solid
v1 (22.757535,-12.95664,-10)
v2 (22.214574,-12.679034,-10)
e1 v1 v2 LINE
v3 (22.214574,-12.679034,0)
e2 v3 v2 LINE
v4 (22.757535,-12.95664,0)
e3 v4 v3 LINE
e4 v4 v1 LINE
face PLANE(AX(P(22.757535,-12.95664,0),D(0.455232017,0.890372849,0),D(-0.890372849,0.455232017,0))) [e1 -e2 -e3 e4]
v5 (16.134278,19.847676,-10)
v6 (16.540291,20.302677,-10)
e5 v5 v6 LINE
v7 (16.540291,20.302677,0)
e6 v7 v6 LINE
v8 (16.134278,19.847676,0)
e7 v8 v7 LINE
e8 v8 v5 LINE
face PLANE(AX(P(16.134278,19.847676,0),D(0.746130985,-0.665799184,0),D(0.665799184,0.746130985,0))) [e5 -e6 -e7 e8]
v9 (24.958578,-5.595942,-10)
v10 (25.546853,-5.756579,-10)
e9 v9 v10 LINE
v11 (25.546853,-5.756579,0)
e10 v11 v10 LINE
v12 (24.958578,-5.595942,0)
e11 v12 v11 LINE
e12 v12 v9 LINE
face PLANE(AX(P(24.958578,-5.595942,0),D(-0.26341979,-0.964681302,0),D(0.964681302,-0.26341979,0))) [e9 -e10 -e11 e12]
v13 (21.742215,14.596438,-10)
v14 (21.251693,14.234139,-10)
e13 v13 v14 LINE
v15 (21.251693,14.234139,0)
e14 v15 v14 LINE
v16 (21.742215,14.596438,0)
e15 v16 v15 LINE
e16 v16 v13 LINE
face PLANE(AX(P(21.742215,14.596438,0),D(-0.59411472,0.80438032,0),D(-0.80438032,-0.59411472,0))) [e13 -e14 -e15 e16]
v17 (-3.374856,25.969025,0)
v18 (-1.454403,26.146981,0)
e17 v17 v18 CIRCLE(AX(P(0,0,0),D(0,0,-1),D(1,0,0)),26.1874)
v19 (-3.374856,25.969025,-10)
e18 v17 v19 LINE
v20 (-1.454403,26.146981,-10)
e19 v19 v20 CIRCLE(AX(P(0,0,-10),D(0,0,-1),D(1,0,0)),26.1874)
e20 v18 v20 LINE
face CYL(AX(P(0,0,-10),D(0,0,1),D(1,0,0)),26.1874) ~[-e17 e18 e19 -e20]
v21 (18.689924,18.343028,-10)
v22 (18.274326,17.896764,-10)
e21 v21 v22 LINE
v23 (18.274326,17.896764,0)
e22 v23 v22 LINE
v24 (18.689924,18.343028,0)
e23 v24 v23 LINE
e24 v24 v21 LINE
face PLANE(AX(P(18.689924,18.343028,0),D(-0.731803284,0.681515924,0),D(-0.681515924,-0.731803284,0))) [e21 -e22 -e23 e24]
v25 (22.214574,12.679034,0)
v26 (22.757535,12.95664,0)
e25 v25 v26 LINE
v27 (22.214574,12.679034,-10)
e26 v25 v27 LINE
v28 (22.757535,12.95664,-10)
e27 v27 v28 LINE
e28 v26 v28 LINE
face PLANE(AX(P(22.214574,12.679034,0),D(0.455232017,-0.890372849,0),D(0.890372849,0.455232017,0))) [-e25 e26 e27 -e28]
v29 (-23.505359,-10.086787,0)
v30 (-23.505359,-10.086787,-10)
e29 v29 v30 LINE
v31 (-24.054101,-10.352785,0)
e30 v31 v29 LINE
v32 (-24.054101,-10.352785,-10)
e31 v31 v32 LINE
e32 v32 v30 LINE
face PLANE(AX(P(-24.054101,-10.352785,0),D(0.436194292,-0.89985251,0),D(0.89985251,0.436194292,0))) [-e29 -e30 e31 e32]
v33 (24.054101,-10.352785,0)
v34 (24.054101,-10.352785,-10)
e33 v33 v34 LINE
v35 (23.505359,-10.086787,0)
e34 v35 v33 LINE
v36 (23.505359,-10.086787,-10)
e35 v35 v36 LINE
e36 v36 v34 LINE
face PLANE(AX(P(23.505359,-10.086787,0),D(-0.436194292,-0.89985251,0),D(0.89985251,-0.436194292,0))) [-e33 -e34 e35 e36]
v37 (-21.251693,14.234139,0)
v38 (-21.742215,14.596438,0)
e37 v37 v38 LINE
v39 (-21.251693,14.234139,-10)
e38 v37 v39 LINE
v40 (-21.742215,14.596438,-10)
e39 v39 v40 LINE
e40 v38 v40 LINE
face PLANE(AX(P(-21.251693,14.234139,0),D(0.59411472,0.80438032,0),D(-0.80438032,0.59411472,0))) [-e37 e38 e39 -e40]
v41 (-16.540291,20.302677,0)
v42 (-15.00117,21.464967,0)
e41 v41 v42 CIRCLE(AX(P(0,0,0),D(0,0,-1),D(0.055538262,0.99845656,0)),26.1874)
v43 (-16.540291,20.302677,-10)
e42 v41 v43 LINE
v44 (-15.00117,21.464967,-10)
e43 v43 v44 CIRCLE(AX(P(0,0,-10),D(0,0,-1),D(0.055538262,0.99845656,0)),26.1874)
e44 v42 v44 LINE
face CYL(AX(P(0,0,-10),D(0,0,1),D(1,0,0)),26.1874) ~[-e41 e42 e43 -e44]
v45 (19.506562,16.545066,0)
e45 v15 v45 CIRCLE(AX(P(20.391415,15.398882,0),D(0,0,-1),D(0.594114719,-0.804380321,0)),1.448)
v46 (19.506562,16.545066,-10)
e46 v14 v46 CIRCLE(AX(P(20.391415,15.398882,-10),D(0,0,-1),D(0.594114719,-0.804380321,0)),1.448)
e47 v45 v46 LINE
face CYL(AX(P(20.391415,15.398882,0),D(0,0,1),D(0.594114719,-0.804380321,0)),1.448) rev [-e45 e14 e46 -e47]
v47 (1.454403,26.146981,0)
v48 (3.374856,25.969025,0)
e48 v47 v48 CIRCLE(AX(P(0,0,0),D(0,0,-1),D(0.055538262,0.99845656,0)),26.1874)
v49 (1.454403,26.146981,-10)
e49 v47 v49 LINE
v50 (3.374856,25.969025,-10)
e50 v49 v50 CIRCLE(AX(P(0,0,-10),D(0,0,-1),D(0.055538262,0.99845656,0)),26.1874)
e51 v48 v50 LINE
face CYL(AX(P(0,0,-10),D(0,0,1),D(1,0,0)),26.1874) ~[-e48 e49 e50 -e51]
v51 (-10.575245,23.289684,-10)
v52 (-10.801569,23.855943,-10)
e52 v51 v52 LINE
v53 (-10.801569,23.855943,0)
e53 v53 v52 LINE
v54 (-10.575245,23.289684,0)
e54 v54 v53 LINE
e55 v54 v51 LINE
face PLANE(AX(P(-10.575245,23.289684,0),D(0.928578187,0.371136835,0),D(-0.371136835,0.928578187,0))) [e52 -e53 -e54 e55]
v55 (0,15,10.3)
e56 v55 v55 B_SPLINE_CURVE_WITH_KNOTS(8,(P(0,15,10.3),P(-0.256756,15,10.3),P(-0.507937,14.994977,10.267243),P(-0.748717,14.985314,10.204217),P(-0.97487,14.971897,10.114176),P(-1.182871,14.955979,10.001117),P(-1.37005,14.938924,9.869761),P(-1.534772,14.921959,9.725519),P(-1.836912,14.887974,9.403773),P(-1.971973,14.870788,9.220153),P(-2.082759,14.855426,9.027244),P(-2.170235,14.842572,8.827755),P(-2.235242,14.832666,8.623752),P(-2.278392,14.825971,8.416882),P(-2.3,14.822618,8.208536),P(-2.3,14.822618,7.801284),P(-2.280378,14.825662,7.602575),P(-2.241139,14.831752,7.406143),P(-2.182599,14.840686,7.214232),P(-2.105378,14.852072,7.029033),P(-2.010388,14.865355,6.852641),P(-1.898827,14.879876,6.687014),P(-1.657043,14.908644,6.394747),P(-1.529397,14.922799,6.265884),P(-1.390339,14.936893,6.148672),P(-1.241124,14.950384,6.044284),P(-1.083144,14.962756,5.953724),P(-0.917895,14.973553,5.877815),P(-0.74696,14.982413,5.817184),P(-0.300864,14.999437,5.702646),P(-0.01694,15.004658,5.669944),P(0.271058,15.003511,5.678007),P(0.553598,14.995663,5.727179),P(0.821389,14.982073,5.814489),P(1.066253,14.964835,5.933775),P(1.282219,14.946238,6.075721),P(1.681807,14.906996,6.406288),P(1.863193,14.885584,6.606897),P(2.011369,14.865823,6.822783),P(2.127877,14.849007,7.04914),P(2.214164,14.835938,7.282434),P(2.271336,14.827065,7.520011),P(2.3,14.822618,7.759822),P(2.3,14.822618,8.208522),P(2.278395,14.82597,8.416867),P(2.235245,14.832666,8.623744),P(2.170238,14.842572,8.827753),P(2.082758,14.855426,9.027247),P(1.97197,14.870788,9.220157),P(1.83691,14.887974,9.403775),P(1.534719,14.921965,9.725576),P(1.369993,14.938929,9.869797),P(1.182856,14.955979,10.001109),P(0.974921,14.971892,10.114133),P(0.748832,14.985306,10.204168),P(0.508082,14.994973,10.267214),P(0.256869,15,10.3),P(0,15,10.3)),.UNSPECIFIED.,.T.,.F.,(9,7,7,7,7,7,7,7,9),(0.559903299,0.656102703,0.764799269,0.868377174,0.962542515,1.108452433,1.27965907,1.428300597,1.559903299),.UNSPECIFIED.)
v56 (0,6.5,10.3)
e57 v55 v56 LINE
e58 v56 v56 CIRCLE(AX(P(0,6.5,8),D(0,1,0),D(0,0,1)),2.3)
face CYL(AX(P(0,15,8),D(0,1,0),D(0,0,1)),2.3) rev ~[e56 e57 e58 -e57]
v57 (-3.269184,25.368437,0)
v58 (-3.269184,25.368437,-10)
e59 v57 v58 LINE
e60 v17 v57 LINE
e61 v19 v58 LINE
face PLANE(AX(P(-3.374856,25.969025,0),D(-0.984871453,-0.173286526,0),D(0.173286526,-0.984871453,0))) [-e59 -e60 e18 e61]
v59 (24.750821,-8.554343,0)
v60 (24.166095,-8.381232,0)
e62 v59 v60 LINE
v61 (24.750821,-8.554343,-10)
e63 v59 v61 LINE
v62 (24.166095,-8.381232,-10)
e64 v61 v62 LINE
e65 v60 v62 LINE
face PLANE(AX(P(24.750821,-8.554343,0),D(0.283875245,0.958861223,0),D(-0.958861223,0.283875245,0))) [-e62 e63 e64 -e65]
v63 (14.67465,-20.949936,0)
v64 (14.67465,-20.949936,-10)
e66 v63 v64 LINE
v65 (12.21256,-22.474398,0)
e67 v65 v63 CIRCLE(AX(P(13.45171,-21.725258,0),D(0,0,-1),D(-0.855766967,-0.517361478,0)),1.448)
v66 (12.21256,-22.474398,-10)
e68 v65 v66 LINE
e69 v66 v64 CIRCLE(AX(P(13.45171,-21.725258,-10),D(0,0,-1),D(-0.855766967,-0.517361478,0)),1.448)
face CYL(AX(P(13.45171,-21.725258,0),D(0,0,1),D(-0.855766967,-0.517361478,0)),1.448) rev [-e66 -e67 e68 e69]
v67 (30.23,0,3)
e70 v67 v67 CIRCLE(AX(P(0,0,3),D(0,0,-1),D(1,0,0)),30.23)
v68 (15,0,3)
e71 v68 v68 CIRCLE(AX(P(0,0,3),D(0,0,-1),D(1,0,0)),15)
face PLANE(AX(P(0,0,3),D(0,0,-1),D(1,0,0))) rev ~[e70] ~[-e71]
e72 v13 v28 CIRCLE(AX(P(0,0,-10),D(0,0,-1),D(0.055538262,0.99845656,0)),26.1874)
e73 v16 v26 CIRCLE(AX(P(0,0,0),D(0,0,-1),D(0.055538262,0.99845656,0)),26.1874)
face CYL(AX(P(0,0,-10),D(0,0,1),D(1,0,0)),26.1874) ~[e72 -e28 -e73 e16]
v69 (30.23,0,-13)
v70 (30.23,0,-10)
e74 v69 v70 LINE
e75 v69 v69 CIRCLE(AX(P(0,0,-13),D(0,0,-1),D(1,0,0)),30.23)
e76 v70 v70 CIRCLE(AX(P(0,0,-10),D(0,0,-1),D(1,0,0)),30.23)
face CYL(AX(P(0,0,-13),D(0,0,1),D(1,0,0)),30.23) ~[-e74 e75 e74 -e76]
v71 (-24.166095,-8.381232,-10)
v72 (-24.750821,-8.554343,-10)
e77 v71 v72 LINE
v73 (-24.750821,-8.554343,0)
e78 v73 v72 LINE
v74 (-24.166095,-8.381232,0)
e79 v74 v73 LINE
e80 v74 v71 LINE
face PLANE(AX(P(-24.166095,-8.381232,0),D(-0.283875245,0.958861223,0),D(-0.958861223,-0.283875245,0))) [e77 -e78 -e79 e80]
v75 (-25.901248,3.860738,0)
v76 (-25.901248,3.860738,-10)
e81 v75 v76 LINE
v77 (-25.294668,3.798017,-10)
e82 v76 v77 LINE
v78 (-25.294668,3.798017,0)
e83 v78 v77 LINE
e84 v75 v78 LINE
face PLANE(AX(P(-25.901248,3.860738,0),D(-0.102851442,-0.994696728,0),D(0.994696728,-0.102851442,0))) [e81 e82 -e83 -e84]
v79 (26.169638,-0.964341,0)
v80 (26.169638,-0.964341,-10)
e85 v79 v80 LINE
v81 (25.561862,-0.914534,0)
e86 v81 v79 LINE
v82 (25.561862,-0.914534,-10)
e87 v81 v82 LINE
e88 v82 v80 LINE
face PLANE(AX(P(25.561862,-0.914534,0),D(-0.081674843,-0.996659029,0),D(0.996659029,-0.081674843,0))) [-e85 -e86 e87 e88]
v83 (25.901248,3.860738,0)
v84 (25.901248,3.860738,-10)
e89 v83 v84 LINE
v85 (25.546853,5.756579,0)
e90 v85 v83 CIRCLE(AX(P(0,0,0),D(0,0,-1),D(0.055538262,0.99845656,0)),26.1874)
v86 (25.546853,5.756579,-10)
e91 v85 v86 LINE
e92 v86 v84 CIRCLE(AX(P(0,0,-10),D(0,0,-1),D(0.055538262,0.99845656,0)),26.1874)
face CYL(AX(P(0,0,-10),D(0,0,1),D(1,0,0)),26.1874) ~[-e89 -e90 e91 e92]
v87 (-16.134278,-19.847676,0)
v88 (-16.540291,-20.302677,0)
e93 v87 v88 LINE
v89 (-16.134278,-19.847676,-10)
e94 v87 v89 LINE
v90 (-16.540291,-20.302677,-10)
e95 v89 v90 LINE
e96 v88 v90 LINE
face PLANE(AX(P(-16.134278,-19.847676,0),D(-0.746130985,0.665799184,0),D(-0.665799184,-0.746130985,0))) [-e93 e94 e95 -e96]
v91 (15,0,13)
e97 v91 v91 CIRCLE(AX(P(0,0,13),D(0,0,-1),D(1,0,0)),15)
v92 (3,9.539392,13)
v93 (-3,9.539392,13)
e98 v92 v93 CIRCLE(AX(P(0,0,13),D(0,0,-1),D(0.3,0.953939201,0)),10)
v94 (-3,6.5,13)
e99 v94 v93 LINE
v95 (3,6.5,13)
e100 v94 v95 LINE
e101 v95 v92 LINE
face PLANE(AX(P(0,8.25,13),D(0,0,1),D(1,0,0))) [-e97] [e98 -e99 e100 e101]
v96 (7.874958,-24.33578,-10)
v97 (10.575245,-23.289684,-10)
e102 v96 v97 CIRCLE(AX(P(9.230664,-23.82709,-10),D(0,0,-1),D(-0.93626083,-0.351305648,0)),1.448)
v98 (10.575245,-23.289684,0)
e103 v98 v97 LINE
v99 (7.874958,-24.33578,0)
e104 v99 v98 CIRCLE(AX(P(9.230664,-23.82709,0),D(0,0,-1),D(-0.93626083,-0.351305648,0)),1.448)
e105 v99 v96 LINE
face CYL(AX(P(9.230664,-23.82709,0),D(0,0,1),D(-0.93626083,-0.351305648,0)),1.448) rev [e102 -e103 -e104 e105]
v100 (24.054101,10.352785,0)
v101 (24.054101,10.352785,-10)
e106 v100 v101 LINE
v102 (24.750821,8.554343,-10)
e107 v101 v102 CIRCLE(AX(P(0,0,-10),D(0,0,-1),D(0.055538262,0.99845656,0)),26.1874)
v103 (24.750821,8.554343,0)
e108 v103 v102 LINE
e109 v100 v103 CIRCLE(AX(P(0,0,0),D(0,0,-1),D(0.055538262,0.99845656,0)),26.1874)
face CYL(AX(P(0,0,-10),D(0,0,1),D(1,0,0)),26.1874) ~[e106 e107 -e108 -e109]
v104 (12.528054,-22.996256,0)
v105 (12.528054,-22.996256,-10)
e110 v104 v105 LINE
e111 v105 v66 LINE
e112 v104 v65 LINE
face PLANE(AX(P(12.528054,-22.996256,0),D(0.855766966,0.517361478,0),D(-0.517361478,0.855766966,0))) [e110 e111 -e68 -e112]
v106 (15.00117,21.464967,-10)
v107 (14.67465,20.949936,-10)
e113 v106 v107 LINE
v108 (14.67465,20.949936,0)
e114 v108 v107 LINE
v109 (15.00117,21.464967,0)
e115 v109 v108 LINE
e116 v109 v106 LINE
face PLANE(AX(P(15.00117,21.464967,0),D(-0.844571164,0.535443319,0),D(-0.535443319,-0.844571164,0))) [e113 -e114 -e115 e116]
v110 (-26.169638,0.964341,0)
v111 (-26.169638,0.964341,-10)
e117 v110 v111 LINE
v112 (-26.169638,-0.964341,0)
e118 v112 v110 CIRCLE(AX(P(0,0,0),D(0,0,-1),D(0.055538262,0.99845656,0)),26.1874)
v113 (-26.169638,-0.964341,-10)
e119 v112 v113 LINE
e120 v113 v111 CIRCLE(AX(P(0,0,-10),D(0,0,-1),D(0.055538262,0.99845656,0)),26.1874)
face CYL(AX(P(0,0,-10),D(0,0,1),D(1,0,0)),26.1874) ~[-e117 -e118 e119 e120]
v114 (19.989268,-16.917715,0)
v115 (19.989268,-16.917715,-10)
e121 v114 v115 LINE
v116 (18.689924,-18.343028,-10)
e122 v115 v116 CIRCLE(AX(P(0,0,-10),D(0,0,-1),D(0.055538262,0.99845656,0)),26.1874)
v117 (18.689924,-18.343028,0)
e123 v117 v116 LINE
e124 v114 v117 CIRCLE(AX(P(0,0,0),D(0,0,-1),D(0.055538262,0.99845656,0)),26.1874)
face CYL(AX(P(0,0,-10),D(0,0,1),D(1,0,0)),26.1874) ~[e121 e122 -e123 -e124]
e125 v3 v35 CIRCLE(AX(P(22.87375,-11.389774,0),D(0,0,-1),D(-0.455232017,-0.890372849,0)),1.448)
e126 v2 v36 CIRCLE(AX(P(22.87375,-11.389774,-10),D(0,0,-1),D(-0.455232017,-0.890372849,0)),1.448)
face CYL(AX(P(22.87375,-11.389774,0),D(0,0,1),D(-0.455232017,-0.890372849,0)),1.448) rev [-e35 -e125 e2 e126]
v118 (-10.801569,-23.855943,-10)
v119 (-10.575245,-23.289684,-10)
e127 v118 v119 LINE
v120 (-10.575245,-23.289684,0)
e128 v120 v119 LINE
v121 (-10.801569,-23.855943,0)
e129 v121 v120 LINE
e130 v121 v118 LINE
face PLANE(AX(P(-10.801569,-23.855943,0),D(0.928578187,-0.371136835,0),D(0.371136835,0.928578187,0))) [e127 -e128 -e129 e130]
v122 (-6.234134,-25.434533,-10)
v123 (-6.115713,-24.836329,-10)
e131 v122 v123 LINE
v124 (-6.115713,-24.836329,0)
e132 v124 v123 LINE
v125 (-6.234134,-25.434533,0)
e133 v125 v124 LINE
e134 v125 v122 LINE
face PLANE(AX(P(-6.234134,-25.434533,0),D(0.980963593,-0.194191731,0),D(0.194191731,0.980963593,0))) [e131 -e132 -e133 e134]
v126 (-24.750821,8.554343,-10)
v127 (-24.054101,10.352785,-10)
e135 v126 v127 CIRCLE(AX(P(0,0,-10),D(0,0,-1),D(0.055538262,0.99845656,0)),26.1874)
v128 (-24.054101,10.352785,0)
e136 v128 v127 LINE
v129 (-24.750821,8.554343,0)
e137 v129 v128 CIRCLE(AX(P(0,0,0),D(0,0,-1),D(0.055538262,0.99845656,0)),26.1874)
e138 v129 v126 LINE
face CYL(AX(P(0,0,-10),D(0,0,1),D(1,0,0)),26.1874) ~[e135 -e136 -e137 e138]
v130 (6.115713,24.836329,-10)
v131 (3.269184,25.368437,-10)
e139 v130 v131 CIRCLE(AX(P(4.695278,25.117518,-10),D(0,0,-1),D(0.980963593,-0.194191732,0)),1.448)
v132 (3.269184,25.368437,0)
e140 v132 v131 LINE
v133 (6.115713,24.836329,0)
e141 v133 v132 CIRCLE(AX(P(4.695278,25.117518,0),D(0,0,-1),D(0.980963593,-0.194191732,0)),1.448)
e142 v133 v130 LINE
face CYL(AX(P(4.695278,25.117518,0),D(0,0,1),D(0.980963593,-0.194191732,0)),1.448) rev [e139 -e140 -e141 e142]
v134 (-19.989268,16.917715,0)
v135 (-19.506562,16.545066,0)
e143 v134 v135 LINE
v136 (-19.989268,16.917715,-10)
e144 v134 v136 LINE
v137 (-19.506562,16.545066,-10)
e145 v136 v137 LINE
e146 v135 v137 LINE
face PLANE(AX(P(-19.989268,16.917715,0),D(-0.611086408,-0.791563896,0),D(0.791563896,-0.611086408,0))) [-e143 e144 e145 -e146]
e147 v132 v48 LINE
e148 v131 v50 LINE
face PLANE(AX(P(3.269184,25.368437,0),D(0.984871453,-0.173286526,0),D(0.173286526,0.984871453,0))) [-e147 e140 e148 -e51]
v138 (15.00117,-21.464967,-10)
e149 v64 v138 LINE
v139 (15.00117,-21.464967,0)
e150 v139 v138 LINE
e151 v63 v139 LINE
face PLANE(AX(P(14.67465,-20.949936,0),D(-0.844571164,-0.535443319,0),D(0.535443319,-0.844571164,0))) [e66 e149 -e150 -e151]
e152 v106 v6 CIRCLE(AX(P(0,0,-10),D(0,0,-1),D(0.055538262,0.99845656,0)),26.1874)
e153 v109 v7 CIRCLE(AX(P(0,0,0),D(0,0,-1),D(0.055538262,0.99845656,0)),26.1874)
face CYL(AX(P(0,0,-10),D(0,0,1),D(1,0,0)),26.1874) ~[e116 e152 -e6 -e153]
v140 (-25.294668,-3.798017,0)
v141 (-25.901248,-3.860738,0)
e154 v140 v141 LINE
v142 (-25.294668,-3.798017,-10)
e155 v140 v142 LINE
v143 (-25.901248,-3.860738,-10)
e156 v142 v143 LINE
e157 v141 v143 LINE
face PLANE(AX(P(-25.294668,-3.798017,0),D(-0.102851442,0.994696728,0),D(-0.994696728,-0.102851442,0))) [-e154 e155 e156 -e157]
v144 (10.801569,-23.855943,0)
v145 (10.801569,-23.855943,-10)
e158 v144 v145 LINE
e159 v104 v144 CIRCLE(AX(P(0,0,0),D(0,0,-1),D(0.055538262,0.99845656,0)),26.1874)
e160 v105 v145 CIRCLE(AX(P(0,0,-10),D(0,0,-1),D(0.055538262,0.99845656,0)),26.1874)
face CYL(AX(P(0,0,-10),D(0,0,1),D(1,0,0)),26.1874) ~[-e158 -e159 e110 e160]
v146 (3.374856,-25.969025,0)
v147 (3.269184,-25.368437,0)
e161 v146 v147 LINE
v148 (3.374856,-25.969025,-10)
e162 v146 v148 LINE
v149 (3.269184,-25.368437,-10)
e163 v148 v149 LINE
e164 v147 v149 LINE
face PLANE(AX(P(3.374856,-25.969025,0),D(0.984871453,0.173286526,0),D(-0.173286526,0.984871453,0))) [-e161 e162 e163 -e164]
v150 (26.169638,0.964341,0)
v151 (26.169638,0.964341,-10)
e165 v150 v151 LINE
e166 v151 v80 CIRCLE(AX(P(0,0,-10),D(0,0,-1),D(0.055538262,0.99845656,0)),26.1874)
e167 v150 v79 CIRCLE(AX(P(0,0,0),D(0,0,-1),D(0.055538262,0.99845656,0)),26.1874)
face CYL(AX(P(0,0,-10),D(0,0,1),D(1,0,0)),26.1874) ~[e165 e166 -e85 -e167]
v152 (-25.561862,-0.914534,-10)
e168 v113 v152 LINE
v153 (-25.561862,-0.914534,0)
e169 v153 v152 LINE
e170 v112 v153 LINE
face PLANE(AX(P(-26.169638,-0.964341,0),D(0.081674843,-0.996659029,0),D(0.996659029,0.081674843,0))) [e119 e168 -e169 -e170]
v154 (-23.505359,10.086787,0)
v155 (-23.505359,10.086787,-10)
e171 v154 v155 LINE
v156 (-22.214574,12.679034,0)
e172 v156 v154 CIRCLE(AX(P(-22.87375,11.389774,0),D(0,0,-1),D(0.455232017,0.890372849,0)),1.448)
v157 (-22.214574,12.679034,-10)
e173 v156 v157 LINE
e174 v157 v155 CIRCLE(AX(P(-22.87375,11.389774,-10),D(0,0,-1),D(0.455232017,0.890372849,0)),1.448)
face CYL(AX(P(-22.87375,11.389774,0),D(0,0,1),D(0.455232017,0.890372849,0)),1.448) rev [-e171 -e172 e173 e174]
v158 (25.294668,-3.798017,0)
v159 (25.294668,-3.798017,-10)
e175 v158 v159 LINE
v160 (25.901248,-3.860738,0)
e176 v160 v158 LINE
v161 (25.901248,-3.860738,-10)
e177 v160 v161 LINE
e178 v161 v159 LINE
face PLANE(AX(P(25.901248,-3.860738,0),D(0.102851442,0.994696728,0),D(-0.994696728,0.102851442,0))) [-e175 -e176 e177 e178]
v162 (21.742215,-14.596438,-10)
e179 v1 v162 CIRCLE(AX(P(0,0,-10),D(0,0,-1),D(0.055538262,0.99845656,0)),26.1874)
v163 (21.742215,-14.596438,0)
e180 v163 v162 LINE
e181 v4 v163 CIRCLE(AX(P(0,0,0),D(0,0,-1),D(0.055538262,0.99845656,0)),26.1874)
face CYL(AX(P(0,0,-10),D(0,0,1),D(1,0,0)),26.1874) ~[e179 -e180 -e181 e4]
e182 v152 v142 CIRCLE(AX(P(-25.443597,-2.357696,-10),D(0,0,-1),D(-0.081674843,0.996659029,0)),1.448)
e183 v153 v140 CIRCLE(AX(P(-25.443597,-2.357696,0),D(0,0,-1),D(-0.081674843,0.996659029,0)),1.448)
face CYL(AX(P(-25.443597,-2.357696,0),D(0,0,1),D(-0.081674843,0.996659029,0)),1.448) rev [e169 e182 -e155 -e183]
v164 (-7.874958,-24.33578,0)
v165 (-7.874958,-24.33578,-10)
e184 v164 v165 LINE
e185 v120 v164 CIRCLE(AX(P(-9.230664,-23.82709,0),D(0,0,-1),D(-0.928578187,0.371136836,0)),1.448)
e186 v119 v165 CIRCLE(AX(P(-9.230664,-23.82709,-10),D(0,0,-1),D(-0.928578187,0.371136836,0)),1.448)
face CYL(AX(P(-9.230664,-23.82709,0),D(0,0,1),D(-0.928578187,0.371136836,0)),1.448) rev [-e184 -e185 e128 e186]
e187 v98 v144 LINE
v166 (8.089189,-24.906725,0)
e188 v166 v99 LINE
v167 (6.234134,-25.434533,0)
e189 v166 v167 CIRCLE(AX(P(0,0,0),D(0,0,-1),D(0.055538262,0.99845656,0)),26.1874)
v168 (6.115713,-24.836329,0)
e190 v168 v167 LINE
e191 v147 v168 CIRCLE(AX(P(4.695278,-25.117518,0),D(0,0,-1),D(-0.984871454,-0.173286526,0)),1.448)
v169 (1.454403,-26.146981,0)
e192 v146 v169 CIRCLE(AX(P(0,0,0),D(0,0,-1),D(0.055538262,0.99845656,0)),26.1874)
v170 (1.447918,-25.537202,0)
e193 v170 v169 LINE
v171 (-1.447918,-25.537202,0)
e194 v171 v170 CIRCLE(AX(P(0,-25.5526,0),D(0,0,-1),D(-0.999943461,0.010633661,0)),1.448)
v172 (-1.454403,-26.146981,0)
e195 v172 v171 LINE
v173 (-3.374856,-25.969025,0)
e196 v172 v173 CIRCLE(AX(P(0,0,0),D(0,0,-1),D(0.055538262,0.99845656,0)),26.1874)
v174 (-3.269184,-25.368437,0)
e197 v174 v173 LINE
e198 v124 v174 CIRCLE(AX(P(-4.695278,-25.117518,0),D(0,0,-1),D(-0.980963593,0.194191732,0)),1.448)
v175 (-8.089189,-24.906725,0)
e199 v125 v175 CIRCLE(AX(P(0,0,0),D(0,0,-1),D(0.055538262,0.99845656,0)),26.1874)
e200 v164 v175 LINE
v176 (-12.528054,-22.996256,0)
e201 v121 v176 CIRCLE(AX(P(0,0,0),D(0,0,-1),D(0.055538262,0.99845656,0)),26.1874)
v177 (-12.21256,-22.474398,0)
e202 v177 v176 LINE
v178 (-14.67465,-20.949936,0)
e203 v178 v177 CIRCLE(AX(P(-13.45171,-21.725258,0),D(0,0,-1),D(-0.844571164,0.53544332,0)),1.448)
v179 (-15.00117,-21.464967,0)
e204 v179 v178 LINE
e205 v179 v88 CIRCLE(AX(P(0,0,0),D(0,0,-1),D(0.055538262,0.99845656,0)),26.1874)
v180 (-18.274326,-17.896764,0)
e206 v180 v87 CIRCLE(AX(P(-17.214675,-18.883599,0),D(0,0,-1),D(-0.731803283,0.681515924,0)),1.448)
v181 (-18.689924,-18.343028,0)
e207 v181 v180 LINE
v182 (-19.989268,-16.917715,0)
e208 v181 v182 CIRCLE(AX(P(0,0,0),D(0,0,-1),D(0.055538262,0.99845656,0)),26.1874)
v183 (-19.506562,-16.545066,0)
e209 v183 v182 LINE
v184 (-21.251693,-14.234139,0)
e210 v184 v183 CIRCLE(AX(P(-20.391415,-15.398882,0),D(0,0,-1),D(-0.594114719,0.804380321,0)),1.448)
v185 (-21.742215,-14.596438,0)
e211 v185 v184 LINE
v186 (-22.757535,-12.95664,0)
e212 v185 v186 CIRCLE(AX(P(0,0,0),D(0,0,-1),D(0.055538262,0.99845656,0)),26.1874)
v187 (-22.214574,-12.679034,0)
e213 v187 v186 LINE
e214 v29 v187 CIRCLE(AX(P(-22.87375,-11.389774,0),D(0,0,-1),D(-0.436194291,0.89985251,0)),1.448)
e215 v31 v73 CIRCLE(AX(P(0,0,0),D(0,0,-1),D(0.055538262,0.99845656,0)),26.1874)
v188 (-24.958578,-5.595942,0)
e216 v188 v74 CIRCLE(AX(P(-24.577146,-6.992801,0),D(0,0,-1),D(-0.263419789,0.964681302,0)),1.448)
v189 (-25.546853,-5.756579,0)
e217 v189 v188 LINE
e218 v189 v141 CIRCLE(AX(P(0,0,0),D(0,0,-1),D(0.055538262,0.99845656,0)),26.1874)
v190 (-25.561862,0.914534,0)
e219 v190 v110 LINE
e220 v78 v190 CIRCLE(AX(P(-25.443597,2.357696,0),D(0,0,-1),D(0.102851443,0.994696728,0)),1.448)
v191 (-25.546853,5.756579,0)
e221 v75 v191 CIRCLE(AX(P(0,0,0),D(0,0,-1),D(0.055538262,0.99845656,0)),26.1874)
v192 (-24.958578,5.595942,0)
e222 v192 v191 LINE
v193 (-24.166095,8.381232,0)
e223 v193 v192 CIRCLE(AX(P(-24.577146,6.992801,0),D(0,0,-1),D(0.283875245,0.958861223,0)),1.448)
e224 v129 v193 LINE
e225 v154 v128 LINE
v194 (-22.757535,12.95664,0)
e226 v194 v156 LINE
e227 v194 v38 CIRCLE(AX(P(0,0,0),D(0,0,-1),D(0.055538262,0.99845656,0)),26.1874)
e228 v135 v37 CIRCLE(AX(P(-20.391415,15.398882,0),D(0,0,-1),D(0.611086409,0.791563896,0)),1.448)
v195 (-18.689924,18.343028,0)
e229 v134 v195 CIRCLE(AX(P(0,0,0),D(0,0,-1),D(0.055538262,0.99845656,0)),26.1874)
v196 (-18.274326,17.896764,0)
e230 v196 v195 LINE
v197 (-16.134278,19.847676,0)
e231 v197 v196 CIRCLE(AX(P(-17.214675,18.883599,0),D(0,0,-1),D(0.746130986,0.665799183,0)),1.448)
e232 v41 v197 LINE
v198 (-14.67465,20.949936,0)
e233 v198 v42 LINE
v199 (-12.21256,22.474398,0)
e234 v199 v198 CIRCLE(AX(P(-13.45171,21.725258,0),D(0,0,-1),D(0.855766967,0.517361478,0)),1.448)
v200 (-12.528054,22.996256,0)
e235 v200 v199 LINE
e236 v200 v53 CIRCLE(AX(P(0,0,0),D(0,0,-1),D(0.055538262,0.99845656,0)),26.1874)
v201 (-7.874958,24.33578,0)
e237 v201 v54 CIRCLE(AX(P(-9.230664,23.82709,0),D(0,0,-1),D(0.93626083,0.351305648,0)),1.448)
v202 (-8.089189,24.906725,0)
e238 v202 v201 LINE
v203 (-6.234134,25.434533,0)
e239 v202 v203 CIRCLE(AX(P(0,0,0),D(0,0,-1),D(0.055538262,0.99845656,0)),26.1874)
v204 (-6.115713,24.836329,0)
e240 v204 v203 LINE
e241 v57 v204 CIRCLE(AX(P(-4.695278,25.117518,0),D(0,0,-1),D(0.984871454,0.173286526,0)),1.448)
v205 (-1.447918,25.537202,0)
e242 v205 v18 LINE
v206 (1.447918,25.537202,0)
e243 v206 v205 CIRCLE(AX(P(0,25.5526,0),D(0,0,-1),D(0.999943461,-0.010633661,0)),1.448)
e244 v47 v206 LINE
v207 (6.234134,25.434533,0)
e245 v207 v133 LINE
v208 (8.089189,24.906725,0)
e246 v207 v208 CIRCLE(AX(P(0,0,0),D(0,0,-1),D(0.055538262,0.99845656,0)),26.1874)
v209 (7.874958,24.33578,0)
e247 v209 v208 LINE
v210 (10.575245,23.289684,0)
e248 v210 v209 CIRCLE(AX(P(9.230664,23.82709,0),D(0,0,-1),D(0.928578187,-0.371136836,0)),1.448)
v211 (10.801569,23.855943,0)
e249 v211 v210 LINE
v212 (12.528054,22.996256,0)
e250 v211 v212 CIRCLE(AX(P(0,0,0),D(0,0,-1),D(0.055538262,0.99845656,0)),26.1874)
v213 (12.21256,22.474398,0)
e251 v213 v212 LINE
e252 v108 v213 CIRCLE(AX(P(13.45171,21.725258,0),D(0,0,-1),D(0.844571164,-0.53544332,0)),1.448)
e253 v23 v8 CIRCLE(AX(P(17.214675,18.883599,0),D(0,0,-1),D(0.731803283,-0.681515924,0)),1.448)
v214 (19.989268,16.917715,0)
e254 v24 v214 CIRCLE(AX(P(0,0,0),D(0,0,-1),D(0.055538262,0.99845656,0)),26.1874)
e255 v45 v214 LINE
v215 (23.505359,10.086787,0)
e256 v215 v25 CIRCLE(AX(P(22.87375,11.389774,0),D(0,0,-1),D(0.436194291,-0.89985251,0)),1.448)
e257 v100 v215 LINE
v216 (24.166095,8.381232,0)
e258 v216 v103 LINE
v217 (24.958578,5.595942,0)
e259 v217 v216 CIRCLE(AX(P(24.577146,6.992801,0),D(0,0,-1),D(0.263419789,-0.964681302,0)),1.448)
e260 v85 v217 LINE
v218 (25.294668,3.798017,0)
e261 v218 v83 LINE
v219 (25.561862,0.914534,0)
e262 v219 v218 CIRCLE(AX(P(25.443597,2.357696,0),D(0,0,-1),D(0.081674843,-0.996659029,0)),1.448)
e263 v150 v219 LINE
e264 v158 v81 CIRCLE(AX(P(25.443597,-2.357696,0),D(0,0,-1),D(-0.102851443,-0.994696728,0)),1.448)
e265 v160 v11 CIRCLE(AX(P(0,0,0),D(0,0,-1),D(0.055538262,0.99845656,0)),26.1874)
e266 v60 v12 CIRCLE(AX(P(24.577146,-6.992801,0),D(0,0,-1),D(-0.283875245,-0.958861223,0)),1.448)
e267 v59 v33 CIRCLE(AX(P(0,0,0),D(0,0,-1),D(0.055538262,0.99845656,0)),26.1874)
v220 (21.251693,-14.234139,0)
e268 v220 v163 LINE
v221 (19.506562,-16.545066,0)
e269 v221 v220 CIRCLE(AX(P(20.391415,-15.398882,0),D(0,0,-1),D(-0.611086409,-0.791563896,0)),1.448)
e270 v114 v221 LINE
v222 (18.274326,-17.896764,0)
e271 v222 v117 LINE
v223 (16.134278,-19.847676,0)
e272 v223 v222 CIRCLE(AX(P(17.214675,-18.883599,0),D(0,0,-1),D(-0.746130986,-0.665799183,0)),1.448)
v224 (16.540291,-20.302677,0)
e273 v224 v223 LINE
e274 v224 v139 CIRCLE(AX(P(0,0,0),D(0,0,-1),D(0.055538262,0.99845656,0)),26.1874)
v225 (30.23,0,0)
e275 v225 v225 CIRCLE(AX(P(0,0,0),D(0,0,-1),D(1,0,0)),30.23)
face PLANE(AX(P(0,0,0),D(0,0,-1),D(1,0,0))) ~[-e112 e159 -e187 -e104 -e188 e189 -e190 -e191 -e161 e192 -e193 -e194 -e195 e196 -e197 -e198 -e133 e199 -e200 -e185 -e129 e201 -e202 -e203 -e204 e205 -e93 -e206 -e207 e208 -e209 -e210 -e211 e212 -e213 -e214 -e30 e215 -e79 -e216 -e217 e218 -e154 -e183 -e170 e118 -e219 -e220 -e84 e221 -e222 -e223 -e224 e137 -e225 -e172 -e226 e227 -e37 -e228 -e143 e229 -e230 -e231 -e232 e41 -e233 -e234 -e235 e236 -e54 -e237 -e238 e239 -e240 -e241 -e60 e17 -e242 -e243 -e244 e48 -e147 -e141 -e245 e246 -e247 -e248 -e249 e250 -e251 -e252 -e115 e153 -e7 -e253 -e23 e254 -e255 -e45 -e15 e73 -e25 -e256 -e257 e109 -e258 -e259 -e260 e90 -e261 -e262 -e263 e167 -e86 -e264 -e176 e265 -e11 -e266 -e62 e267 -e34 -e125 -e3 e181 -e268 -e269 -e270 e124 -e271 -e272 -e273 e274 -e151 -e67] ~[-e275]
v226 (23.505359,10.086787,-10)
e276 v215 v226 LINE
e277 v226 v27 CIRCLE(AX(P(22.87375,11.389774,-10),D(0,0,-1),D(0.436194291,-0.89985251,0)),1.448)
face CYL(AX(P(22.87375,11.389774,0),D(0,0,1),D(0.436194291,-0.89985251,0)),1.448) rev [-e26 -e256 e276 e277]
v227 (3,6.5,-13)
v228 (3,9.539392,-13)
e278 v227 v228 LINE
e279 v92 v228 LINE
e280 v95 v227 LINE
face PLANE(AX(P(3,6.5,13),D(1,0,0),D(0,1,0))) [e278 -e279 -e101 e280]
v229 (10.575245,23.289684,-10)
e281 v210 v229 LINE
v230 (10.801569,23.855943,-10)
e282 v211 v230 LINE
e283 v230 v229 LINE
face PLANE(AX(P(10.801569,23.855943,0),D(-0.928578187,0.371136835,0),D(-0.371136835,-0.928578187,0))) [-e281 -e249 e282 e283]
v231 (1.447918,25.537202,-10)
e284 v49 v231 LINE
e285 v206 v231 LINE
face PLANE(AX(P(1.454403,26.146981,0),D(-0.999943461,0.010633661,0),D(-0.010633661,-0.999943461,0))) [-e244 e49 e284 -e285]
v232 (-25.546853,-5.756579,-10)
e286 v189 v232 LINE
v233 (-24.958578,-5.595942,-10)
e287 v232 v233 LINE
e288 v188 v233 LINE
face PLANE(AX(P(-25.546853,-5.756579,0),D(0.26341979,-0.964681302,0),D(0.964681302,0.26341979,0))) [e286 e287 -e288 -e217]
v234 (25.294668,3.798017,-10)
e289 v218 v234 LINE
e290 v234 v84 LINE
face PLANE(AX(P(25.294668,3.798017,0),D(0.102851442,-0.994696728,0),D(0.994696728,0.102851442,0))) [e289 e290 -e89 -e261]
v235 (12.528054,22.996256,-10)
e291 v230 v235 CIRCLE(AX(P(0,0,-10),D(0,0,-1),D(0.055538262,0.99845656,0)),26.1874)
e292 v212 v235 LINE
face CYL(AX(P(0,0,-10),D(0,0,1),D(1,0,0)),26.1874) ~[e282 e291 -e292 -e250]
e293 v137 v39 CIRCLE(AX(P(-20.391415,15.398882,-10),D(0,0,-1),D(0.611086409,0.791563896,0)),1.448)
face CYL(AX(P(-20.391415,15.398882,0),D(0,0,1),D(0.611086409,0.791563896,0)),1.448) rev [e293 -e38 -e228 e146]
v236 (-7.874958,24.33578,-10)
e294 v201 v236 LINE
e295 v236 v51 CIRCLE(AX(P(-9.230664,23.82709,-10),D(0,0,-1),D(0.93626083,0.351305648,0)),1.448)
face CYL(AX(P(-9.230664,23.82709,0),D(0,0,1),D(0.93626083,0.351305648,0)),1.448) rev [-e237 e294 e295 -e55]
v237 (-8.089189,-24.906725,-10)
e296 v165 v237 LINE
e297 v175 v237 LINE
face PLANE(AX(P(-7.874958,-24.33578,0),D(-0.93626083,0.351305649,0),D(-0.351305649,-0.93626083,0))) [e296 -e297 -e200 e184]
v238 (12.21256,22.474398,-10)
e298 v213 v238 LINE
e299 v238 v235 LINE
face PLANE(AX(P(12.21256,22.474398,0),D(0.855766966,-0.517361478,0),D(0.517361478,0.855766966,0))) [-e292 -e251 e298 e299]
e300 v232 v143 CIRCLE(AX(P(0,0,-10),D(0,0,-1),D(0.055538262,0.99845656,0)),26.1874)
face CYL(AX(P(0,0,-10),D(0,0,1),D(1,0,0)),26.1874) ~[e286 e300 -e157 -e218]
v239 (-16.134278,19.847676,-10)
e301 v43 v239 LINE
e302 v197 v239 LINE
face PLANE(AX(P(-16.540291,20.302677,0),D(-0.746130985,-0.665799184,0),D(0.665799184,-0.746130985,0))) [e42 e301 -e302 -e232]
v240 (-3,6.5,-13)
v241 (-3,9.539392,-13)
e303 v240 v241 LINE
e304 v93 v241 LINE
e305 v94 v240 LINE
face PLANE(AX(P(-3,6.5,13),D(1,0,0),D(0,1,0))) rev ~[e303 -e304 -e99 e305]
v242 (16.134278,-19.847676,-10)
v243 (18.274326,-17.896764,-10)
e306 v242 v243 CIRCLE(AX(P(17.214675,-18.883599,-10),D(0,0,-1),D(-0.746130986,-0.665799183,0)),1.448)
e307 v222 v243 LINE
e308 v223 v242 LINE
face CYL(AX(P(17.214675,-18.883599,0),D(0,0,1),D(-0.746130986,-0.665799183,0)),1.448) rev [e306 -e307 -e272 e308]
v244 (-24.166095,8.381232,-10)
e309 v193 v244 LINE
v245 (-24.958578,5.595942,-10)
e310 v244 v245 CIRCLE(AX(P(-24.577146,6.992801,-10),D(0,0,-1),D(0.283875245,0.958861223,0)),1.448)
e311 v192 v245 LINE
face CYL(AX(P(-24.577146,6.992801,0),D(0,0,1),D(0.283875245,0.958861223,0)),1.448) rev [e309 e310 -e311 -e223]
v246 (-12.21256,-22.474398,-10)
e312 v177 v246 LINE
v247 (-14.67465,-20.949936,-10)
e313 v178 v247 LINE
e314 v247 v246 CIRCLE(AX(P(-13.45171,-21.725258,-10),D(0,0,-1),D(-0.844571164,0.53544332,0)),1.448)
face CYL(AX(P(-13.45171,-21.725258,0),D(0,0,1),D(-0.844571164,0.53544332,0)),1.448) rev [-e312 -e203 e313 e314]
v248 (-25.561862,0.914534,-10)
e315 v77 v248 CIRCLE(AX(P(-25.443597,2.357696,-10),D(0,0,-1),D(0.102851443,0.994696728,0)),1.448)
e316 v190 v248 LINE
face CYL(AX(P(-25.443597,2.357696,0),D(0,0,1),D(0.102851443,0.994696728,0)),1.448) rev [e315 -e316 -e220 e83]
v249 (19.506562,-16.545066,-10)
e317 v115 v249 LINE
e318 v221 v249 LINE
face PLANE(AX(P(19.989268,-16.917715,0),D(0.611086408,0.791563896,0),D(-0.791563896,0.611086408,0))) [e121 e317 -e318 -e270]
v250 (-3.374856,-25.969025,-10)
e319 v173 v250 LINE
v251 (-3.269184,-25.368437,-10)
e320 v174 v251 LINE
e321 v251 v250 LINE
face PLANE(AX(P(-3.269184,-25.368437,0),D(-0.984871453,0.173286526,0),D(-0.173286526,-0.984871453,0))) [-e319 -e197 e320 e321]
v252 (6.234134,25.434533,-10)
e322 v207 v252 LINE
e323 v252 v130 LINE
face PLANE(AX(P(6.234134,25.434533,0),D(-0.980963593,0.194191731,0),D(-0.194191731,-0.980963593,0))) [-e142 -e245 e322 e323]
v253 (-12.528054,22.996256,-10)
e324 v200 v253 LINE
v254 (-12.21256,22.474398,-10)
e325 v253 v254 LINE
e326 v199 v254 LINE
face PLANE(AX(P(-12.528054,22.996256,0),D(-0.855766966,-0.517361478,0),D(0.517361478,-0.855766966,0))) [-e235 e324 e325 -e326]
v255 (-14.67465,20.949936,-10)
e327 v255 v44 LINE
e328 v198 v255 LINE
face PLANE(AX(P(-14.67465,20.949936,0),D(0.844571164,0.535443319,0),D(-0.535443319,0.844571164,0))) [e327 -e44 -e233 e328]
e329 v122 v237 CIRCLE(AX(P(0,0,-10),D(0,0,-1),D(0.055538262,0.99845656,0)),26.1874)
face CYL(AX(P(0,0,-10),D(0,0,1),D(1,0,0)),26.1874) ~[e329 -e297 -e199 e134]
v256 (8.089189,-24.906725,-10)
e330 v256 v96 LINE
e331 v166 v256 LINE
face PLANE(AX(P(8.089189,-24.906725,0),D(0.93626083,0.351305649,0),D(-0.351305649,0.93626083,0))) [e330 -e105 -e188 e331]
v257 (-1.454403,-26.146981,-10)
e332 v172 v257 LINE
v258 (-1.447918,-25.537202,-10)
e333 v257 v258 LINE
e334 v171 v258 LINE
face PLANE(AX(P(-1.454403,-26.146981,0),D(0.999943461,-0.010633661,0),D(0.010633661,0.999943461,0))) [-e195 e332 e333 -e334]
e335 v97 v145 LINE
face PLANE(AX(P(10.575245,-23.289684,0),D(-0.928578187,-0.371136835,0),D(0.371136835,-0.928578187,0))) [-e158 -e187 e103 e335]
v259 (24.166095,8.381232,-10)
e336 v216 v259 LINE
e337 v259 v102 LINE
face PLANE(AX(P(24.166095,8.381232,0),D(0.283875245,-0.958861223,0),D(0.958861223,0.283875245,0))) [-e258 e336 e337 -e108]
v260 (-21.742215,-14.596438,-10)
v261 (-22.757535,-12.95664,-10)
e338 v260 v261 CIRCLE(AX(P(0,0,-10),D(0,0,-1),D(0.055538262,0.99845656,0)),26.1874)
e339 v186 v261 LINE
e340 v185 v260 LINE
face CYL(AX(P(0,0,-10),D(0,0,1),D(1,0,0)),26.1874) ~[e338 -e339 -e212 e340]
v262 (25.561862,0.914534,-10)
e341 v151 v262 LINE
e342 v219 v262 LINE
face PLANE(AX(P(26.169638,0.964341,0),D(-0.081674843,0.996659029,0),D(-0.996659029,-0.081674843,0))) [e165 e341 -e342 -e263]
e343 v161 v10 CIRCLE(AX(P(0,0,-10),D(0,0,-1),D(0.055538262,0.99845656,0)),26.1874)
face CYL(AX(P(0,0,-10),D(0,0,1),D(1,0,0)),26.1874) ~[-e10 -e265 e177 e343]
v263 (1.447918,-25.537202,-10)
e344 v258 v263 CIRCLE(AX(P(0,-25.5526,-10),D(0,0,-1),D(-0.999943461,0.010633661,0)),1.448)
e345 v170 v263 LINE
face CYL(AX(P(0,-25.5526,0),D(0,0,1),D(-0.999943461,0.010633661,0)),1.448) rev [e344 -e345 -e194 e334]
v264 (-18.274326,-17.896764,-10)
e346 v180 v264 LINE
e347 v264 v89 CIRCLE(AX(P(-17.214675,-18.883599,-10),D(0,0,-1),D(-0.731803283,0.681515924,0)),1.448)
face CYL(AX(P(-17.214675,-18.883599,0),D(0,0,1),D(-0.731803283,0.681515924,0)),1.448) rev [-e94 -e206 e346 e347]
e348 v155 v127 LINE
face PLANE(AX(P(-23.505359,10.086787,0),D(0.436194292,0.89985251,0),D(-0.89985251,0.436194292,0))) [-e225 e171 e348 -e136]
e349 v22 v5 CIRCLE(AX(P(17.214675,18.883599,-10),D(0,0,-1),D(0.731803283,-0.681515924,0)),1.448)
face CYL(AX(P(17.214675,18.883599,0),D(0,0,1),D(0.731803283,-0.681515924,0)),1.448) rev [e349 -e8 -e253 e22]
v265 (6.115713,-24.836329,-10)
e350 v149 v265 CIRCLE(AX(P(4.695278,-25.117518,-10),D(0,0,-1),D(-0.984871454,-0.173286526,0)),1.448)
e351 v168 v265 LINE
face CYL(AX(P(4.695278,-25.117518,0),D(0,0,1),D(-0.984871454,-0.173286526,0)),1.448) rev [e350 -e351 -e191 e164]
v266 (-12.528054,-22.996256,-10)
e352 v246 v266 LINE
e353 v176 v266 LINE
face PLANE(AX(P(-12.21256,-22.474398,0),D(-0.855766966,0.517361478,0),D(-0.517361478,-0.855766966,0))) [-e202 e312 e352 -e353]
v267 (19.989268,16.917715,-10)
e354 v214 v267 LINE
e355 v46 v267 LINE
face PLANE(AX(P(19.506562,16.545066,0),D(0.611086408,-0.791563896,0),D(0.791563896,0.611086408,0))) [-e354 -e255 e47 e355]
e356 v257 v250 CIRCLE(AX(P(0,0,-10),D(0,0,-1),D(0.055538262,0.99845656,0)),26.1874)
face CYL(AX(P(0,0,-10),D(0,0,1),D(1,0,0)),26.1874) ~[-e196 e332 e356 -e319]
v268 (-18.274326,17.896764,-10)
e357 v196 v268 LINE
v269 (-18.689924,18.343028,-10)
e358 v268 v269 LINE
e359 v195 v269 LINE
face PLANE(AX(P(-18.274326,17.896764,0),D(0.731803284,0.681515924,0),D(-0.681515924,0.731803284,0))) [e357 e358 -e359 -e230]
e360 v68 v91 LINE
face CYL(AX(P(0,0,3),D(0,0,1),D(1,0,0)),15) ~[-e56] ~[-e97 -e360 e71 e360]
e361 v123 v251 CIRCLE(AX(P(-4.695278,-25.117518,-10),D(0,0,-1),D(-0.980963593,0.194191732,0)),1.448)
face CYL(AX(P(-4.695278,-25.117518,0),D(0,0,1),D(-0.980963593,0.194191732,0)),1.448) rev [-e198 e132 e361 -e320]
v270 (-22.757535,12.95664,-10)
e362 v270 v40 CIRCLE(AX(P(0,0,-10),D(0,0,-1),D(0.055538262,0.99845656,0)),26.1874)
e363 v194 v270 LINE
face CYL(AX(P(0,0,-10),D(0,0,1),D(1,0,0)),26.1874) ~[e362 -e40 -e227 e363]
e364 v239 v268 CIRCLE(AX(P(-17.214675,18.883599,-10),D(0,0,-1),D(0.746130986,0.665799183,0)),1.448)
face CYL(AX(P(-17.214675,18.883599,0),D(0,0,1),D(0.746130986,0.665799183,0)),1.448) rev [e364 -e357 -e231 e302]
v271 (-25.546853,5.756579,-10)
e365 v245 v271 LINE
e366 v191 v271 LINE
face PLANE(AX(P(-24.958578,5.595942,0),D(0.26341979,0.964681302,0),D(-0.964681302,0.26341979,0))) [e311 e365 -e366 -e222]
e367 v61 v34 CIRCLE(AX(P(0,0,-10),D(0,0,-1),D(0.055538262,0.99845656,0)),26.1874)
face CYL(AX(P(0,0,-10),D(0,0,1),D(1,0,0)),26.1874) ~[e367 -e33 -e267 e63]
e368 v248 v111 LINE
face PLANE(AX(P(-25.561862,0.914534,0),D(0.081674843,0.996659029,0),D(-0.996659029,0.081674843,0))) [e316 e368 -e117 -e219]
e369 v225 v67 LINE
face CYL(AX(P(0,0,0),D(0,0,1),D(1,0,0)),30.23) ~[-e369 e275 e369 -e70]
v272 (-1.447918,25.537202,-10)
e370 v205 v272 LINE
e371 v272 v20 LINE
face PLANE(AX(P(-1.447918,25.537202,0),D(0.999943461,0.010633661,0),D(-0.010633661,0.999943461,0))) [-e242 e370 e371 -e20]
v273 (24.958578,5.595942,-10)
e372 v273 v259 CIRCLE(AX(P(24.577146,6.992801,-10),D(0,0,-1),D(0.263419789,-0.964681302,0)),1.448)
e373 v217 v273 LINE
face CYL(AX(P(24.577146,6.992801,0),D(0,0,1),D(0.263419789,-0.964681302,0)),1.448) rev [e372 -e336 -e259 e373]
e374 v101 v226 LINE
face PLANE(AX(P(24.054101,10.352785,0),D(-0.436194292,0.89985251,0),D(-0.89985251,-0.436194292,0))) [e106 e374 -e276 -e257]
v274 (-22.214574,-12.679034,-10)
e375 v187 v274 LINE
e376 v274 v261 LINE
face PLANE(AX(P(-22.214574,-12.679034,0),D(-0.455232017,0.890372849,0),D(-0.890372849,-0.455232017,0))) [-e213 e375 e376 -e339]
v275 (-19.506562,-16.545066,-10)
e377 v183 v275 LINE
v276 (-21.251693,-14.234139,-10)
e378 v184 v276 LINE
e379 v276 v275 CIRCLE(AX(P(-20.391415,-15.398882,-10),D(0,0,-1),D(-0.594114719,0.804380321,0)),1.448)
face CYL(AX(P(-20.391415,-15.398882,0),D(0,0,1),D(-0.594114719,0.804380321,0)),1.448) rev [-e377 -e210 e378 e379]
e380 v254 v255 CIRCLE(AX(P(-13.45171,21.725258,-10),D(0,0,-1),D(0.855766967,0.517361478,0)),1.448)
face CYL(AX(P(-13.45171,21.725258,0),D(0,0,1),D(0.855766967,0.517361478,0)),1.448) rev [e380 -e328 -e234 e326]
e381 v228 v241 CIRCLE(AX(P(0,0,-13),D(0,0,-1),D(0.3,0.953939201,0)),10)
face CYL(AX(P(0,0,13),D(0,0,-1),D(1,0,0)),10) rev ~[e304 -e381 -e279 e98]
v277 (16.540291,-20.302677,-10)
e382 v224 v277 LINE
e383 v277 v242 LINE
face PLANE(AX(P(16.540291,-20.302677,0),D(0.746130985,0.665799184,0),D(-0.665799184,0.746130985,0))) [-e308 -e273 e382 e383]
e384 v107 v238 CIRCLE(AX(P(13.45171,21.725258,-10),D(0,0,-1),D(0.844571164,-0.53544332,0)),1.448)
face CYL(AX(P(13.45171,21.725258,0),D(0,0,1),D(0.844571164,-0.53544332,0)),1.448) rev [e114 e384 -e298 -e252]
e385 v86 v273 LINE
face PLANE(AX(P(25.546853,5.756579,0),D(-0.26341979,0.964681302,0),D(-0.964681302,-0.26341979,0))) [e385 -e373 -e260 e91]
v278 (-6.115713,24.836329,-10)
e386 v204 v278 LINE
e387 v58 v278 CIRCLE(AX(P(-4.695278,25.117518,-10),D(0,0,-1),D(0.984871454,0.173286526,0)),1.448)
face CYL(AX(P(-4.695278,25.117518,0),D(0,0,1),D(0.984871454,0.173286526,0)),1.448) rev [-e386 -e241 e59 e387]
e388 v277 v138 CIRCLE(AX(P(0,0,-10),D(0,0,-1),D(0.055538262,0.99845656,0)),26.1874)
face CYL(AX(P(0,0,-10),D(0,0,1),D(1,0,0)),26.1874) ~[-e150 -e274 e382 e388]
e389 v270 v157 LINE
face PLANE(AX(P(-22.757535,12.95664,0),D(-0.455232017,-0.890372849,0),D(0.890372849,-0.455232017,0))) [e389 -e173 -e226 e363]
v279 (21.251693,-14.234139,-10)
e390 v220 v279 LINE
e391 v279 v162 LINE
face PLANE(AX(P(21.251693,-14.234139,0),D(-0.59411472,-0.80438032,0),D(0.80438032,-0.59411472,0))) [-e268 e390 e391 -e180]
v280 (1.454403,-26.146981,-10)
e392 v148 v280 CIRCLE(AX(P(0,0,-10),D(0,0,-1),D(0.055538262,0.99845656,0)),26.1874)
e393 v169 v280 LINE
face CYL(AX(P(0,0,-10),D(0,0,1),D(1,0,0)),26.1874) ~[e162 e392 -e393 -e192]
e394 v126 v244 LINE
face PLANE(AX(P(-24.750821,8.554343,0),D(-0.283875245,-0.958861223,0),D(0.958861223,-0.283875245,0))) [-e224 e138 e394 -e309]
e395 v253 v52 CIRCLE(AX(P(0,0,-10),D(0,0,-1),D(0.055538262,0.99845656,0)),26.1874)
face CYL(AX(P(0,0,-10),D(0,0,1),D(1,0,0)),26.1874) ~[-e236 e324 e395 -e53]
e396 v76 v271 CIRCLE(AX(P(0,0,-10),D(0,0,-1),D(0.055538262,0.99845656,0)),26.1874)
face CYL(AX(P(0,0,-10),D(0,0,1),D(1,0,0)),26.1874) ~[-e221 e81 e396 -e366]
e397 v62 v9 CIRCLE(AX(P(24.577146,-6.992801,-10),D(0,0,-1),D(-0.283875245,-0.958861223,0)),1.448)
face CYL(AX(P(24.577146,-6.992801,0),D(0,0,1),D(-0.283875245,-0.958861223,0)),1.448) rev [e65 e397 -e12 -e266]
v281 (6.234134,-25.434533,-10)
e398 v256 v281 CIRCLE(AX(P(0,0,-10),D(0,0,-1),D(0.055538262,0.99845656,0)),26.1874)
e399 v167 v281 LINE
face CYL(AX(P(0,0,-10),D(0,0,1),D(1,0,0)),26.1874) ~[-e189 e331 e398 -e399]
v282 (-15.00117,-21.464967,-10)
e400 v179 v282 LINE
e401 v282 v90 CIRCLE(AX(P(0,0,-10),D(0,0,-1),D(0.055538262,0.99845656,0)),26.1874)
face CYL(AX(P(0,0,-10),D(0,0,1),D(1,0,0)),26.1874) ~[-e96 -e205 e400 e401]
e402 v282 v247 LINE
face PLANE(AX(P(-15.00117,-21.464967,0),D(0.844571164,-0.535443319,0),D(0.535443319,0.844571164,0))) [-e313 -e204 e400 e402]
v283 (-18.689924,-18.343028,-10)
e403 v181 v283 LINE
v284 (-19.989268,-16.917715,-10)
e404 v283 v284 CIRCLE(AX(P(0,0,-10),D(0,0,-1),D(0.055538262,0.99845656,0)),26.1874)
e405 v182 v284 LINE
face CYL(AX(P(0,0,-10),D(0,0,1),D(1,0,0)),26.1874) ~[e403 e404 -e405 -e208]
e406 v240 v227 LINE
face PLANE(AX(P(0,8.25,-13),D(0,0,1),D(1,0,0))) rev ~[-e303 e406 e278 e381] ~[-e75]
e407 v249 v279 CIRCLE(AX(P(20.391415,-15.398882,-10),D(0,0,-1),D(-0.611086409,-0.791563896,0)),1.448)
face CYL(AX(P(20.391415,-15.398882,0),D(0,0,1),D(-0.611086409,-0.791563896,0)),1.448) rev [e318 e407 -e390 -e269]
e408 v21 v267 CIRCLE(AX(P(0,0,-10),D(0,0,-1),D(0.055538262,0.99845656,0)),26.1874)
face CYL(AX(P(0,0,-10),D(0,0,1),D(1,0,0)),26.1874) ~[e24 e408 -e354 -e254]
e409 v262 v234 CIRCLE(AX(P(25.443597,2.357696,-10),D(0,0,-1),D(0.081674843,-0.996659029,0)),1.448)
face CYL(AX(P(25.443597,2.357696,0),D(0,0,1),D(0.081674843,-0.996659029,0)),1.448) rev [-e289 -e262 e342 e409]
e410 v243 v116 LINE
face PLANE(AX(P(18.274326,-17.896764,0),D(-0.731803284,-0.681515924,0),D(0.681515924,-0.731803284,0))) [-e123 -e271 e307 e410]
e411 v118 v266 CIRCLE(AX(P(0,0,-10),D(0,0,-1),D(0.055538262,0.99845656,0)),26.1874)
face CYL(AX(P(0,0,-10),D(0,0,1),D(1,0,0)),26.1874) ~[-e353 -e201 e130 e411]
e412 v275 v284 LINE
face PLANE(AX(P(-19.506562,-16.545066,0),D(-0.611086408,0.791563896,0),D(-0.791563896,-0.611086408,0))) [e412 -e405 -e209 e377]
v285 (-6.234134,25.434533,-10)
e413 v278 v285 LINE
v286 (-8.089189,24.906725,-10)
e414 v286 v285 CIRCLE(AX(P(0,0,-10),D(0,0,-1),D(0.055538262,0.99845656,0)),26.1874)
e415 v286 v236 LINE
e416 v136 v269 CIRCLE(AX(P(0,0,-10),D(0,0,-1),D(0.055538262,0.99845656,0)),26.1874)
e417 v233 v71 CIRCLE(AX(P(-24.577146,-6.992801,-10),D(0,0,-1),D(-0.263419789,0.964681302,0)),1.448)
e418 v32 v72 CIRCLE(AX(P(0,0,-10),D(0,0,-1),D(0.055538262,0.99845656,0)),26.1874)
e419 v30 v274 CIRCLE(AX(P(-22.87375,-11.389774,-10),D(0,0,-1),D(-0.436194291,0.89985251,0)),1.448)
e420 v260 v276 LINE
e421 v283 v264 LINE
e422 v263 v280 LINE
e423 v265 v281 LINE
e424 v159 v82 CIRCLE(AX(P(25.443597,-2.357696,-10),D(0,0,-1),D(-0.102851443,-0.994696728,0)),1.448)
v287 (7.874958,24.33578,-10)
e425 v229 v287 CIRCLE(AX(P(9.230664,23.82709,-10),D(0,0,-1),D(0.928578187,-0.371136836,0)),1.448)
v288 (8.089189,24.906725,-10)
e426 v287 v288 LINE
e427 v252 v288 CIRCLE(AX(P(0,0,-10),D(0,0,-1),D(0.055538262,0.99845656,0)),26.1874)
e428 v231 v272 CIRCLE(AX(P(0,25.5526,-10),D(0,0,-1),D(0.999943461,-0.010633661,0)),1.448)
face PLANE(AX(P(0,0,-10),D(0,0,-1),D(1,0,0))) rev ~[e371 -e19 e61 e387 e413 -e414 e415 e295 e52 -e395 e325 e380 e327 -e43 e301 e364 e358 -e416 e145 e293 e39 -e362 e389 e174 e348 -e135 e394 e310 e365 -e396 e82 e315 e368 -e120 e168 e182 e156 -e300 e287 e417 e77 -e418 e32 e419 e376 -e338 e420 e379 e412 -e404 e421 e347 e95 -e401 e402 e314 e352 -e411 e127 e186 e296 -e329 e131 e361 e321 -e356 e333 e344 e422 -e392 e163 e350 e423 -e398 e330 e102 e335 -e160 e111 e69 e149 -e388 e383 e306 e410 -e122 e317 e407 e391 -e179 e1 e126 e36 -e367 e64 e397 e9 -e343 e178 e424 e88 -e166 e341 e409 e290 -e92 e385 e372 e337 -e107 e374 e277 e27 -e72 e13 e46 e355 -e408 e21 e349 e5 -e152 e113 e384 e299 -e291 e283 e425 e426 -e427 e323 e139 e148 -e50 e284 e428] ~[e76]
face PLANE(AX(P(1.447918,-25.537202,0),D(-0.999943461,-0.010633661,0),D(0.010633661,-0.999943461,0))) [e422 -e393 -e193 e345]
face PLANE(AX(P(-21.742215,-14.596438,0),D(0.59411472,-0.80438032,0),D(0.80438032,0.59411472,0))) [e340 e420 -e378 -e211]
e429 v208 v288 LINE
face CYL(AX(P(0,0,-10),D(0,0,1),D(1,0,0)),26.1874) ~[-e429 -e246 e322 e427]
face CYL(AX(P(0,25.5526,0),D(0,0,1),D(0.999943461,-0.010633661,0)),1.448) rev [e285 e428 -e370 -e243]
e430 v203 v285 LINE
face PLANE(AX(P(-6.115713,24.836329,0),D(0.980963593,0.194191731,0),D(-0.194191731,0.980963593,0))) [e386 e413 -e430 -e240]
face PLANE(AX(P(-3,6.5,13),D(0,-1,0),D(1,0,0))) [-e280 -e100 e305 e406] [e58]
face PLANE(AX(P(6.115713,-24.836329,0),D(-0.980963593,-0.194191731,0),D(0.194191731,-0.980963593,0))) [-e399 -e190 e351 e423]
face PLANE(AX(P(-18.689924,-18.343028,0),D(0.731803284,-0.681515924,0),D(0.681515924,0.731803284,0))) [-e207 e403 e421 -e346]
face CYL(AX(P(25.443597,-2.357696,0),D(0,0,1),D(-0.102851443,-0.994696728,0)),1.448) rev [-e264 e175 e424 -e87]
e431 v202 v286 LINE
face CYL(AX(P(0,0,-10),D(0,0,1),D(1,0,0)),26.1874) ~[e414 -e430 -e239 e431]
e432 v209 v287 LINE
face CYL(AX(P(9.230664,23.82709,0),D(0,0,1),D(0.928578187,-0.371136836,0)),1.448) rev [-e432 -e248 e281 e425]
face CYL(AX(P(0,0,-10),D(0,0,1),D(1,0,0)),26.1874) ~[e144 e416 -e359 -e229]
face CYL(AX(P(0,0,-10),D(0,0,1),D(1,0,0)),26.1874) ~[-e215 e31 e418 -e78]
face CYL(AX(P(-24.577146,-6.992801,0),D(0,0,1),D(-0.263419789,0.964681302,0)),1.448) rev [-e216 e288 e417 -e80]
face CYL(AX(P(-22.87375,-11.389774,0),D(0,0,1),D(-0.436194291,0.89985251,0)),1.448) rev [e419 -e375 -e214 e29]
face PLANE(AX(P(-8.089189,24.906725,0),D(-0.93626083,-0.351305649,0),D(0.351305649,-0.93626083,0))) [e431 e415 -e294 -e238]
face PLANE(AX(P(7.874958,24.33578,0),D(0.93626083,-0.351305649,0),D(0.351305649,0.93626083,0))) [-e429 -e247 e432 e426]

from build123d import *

# Parameters (mm, degrees)
CUT_EXTRUDE1_DEPTH  = 10
CIRPATTERN1_COUNT   = 34
SKETCH5_W           = 6
SKETCH5_H           = 3.5
BOSS_EXTRUDE1_DEPTH = 26
SKETCH4_R           = 2.3
CUT_EXTRUDE2_DEPTH  = 10


with BuildPart() as part:
    # Sketch2 → Revolve1 (revolve)
    with BuildSketch(Plane(origin=(0, 0, 0), x_dir=(0, 0, -1), z_dir=(1, 0, 0)), mode=Mode.PRIVATE) as revolve1_sk:
        Polygon((-13, 10), (13, 10), (13, 30.23), (10, 30.23), (10, 26.1874), (0, 26.1874), (0, 28.2087), (0, 30.23), (-1.5, 30.23), (-3, 30.23), (-3, 15), (-13, 15), align=None)
    revolve(revolve1_sk.sketch.rotate(Axis((0, 0, 13), (0, 0, -1)), 90), axis=Axis((0, 0, 13), (0, 0, -1)))

    # Sketch3 → Cut-Extrude1 (cut)
    with BuildSketch(Plane.XY):
        with BuildLine():
            Line((-1.447918132, 25.537202459), (-1.45440268, 26.14698131))
            ThreePointArc((-1.45440268, 26.14698131), (0, 26.1874), (1.45440268, 26.14698131))
            Line((1.45440268, 26.14698131), (1.447918132, 25.537202459))
            ThreePointArc((1.447918132, 25.537202459), (0, 24.1046), (-1.447918132, 25.537202459))
        make_face()
    cut_extrude1 = extrude(amount=-CUT_EXTRUDE1_DEPTH, mode=Mode.SUBTRACT)

    # CirPattern1: Cut-Extrude1 ×34 about axis
    cirpattern1_axis = Axis((0, 0, 0), (0, 0, 1))
    for i in range(1, CIRPATTERN1_COUNT):
        add(cut_extrude1.rotate(cirpattern1_axis, i * 360 / CIRPATTERN1_COUNT), mode=Mode.SUBTRACT)

    # Sketch5 → Boss-Extrude1 (add)
    with BuildSketch(Plane.XY.offset(13)):
        with Locations((0, 8.25)):
            Rectangle(SKETCH5_W, SKETCH5_H)
    extrude(amount=-BOSS_EXTRUDE1_DEPTH)

    # Sketch4 → Cut-Extrude2 (cut)
    with BuildSketch(Plane(origin=(0, 15, 0), x_dir=(1, 0, 0), z_dir=(0, 1, 0))):
        with Locations(Location((0, -8, 0), (0, 0, 270))):
            Circle(SKETCH4_R)
    extrude(amount=-CUT_EXTRUDE2_DEPTH, mode=Mode.SUBTRACT)


solid = part.part
